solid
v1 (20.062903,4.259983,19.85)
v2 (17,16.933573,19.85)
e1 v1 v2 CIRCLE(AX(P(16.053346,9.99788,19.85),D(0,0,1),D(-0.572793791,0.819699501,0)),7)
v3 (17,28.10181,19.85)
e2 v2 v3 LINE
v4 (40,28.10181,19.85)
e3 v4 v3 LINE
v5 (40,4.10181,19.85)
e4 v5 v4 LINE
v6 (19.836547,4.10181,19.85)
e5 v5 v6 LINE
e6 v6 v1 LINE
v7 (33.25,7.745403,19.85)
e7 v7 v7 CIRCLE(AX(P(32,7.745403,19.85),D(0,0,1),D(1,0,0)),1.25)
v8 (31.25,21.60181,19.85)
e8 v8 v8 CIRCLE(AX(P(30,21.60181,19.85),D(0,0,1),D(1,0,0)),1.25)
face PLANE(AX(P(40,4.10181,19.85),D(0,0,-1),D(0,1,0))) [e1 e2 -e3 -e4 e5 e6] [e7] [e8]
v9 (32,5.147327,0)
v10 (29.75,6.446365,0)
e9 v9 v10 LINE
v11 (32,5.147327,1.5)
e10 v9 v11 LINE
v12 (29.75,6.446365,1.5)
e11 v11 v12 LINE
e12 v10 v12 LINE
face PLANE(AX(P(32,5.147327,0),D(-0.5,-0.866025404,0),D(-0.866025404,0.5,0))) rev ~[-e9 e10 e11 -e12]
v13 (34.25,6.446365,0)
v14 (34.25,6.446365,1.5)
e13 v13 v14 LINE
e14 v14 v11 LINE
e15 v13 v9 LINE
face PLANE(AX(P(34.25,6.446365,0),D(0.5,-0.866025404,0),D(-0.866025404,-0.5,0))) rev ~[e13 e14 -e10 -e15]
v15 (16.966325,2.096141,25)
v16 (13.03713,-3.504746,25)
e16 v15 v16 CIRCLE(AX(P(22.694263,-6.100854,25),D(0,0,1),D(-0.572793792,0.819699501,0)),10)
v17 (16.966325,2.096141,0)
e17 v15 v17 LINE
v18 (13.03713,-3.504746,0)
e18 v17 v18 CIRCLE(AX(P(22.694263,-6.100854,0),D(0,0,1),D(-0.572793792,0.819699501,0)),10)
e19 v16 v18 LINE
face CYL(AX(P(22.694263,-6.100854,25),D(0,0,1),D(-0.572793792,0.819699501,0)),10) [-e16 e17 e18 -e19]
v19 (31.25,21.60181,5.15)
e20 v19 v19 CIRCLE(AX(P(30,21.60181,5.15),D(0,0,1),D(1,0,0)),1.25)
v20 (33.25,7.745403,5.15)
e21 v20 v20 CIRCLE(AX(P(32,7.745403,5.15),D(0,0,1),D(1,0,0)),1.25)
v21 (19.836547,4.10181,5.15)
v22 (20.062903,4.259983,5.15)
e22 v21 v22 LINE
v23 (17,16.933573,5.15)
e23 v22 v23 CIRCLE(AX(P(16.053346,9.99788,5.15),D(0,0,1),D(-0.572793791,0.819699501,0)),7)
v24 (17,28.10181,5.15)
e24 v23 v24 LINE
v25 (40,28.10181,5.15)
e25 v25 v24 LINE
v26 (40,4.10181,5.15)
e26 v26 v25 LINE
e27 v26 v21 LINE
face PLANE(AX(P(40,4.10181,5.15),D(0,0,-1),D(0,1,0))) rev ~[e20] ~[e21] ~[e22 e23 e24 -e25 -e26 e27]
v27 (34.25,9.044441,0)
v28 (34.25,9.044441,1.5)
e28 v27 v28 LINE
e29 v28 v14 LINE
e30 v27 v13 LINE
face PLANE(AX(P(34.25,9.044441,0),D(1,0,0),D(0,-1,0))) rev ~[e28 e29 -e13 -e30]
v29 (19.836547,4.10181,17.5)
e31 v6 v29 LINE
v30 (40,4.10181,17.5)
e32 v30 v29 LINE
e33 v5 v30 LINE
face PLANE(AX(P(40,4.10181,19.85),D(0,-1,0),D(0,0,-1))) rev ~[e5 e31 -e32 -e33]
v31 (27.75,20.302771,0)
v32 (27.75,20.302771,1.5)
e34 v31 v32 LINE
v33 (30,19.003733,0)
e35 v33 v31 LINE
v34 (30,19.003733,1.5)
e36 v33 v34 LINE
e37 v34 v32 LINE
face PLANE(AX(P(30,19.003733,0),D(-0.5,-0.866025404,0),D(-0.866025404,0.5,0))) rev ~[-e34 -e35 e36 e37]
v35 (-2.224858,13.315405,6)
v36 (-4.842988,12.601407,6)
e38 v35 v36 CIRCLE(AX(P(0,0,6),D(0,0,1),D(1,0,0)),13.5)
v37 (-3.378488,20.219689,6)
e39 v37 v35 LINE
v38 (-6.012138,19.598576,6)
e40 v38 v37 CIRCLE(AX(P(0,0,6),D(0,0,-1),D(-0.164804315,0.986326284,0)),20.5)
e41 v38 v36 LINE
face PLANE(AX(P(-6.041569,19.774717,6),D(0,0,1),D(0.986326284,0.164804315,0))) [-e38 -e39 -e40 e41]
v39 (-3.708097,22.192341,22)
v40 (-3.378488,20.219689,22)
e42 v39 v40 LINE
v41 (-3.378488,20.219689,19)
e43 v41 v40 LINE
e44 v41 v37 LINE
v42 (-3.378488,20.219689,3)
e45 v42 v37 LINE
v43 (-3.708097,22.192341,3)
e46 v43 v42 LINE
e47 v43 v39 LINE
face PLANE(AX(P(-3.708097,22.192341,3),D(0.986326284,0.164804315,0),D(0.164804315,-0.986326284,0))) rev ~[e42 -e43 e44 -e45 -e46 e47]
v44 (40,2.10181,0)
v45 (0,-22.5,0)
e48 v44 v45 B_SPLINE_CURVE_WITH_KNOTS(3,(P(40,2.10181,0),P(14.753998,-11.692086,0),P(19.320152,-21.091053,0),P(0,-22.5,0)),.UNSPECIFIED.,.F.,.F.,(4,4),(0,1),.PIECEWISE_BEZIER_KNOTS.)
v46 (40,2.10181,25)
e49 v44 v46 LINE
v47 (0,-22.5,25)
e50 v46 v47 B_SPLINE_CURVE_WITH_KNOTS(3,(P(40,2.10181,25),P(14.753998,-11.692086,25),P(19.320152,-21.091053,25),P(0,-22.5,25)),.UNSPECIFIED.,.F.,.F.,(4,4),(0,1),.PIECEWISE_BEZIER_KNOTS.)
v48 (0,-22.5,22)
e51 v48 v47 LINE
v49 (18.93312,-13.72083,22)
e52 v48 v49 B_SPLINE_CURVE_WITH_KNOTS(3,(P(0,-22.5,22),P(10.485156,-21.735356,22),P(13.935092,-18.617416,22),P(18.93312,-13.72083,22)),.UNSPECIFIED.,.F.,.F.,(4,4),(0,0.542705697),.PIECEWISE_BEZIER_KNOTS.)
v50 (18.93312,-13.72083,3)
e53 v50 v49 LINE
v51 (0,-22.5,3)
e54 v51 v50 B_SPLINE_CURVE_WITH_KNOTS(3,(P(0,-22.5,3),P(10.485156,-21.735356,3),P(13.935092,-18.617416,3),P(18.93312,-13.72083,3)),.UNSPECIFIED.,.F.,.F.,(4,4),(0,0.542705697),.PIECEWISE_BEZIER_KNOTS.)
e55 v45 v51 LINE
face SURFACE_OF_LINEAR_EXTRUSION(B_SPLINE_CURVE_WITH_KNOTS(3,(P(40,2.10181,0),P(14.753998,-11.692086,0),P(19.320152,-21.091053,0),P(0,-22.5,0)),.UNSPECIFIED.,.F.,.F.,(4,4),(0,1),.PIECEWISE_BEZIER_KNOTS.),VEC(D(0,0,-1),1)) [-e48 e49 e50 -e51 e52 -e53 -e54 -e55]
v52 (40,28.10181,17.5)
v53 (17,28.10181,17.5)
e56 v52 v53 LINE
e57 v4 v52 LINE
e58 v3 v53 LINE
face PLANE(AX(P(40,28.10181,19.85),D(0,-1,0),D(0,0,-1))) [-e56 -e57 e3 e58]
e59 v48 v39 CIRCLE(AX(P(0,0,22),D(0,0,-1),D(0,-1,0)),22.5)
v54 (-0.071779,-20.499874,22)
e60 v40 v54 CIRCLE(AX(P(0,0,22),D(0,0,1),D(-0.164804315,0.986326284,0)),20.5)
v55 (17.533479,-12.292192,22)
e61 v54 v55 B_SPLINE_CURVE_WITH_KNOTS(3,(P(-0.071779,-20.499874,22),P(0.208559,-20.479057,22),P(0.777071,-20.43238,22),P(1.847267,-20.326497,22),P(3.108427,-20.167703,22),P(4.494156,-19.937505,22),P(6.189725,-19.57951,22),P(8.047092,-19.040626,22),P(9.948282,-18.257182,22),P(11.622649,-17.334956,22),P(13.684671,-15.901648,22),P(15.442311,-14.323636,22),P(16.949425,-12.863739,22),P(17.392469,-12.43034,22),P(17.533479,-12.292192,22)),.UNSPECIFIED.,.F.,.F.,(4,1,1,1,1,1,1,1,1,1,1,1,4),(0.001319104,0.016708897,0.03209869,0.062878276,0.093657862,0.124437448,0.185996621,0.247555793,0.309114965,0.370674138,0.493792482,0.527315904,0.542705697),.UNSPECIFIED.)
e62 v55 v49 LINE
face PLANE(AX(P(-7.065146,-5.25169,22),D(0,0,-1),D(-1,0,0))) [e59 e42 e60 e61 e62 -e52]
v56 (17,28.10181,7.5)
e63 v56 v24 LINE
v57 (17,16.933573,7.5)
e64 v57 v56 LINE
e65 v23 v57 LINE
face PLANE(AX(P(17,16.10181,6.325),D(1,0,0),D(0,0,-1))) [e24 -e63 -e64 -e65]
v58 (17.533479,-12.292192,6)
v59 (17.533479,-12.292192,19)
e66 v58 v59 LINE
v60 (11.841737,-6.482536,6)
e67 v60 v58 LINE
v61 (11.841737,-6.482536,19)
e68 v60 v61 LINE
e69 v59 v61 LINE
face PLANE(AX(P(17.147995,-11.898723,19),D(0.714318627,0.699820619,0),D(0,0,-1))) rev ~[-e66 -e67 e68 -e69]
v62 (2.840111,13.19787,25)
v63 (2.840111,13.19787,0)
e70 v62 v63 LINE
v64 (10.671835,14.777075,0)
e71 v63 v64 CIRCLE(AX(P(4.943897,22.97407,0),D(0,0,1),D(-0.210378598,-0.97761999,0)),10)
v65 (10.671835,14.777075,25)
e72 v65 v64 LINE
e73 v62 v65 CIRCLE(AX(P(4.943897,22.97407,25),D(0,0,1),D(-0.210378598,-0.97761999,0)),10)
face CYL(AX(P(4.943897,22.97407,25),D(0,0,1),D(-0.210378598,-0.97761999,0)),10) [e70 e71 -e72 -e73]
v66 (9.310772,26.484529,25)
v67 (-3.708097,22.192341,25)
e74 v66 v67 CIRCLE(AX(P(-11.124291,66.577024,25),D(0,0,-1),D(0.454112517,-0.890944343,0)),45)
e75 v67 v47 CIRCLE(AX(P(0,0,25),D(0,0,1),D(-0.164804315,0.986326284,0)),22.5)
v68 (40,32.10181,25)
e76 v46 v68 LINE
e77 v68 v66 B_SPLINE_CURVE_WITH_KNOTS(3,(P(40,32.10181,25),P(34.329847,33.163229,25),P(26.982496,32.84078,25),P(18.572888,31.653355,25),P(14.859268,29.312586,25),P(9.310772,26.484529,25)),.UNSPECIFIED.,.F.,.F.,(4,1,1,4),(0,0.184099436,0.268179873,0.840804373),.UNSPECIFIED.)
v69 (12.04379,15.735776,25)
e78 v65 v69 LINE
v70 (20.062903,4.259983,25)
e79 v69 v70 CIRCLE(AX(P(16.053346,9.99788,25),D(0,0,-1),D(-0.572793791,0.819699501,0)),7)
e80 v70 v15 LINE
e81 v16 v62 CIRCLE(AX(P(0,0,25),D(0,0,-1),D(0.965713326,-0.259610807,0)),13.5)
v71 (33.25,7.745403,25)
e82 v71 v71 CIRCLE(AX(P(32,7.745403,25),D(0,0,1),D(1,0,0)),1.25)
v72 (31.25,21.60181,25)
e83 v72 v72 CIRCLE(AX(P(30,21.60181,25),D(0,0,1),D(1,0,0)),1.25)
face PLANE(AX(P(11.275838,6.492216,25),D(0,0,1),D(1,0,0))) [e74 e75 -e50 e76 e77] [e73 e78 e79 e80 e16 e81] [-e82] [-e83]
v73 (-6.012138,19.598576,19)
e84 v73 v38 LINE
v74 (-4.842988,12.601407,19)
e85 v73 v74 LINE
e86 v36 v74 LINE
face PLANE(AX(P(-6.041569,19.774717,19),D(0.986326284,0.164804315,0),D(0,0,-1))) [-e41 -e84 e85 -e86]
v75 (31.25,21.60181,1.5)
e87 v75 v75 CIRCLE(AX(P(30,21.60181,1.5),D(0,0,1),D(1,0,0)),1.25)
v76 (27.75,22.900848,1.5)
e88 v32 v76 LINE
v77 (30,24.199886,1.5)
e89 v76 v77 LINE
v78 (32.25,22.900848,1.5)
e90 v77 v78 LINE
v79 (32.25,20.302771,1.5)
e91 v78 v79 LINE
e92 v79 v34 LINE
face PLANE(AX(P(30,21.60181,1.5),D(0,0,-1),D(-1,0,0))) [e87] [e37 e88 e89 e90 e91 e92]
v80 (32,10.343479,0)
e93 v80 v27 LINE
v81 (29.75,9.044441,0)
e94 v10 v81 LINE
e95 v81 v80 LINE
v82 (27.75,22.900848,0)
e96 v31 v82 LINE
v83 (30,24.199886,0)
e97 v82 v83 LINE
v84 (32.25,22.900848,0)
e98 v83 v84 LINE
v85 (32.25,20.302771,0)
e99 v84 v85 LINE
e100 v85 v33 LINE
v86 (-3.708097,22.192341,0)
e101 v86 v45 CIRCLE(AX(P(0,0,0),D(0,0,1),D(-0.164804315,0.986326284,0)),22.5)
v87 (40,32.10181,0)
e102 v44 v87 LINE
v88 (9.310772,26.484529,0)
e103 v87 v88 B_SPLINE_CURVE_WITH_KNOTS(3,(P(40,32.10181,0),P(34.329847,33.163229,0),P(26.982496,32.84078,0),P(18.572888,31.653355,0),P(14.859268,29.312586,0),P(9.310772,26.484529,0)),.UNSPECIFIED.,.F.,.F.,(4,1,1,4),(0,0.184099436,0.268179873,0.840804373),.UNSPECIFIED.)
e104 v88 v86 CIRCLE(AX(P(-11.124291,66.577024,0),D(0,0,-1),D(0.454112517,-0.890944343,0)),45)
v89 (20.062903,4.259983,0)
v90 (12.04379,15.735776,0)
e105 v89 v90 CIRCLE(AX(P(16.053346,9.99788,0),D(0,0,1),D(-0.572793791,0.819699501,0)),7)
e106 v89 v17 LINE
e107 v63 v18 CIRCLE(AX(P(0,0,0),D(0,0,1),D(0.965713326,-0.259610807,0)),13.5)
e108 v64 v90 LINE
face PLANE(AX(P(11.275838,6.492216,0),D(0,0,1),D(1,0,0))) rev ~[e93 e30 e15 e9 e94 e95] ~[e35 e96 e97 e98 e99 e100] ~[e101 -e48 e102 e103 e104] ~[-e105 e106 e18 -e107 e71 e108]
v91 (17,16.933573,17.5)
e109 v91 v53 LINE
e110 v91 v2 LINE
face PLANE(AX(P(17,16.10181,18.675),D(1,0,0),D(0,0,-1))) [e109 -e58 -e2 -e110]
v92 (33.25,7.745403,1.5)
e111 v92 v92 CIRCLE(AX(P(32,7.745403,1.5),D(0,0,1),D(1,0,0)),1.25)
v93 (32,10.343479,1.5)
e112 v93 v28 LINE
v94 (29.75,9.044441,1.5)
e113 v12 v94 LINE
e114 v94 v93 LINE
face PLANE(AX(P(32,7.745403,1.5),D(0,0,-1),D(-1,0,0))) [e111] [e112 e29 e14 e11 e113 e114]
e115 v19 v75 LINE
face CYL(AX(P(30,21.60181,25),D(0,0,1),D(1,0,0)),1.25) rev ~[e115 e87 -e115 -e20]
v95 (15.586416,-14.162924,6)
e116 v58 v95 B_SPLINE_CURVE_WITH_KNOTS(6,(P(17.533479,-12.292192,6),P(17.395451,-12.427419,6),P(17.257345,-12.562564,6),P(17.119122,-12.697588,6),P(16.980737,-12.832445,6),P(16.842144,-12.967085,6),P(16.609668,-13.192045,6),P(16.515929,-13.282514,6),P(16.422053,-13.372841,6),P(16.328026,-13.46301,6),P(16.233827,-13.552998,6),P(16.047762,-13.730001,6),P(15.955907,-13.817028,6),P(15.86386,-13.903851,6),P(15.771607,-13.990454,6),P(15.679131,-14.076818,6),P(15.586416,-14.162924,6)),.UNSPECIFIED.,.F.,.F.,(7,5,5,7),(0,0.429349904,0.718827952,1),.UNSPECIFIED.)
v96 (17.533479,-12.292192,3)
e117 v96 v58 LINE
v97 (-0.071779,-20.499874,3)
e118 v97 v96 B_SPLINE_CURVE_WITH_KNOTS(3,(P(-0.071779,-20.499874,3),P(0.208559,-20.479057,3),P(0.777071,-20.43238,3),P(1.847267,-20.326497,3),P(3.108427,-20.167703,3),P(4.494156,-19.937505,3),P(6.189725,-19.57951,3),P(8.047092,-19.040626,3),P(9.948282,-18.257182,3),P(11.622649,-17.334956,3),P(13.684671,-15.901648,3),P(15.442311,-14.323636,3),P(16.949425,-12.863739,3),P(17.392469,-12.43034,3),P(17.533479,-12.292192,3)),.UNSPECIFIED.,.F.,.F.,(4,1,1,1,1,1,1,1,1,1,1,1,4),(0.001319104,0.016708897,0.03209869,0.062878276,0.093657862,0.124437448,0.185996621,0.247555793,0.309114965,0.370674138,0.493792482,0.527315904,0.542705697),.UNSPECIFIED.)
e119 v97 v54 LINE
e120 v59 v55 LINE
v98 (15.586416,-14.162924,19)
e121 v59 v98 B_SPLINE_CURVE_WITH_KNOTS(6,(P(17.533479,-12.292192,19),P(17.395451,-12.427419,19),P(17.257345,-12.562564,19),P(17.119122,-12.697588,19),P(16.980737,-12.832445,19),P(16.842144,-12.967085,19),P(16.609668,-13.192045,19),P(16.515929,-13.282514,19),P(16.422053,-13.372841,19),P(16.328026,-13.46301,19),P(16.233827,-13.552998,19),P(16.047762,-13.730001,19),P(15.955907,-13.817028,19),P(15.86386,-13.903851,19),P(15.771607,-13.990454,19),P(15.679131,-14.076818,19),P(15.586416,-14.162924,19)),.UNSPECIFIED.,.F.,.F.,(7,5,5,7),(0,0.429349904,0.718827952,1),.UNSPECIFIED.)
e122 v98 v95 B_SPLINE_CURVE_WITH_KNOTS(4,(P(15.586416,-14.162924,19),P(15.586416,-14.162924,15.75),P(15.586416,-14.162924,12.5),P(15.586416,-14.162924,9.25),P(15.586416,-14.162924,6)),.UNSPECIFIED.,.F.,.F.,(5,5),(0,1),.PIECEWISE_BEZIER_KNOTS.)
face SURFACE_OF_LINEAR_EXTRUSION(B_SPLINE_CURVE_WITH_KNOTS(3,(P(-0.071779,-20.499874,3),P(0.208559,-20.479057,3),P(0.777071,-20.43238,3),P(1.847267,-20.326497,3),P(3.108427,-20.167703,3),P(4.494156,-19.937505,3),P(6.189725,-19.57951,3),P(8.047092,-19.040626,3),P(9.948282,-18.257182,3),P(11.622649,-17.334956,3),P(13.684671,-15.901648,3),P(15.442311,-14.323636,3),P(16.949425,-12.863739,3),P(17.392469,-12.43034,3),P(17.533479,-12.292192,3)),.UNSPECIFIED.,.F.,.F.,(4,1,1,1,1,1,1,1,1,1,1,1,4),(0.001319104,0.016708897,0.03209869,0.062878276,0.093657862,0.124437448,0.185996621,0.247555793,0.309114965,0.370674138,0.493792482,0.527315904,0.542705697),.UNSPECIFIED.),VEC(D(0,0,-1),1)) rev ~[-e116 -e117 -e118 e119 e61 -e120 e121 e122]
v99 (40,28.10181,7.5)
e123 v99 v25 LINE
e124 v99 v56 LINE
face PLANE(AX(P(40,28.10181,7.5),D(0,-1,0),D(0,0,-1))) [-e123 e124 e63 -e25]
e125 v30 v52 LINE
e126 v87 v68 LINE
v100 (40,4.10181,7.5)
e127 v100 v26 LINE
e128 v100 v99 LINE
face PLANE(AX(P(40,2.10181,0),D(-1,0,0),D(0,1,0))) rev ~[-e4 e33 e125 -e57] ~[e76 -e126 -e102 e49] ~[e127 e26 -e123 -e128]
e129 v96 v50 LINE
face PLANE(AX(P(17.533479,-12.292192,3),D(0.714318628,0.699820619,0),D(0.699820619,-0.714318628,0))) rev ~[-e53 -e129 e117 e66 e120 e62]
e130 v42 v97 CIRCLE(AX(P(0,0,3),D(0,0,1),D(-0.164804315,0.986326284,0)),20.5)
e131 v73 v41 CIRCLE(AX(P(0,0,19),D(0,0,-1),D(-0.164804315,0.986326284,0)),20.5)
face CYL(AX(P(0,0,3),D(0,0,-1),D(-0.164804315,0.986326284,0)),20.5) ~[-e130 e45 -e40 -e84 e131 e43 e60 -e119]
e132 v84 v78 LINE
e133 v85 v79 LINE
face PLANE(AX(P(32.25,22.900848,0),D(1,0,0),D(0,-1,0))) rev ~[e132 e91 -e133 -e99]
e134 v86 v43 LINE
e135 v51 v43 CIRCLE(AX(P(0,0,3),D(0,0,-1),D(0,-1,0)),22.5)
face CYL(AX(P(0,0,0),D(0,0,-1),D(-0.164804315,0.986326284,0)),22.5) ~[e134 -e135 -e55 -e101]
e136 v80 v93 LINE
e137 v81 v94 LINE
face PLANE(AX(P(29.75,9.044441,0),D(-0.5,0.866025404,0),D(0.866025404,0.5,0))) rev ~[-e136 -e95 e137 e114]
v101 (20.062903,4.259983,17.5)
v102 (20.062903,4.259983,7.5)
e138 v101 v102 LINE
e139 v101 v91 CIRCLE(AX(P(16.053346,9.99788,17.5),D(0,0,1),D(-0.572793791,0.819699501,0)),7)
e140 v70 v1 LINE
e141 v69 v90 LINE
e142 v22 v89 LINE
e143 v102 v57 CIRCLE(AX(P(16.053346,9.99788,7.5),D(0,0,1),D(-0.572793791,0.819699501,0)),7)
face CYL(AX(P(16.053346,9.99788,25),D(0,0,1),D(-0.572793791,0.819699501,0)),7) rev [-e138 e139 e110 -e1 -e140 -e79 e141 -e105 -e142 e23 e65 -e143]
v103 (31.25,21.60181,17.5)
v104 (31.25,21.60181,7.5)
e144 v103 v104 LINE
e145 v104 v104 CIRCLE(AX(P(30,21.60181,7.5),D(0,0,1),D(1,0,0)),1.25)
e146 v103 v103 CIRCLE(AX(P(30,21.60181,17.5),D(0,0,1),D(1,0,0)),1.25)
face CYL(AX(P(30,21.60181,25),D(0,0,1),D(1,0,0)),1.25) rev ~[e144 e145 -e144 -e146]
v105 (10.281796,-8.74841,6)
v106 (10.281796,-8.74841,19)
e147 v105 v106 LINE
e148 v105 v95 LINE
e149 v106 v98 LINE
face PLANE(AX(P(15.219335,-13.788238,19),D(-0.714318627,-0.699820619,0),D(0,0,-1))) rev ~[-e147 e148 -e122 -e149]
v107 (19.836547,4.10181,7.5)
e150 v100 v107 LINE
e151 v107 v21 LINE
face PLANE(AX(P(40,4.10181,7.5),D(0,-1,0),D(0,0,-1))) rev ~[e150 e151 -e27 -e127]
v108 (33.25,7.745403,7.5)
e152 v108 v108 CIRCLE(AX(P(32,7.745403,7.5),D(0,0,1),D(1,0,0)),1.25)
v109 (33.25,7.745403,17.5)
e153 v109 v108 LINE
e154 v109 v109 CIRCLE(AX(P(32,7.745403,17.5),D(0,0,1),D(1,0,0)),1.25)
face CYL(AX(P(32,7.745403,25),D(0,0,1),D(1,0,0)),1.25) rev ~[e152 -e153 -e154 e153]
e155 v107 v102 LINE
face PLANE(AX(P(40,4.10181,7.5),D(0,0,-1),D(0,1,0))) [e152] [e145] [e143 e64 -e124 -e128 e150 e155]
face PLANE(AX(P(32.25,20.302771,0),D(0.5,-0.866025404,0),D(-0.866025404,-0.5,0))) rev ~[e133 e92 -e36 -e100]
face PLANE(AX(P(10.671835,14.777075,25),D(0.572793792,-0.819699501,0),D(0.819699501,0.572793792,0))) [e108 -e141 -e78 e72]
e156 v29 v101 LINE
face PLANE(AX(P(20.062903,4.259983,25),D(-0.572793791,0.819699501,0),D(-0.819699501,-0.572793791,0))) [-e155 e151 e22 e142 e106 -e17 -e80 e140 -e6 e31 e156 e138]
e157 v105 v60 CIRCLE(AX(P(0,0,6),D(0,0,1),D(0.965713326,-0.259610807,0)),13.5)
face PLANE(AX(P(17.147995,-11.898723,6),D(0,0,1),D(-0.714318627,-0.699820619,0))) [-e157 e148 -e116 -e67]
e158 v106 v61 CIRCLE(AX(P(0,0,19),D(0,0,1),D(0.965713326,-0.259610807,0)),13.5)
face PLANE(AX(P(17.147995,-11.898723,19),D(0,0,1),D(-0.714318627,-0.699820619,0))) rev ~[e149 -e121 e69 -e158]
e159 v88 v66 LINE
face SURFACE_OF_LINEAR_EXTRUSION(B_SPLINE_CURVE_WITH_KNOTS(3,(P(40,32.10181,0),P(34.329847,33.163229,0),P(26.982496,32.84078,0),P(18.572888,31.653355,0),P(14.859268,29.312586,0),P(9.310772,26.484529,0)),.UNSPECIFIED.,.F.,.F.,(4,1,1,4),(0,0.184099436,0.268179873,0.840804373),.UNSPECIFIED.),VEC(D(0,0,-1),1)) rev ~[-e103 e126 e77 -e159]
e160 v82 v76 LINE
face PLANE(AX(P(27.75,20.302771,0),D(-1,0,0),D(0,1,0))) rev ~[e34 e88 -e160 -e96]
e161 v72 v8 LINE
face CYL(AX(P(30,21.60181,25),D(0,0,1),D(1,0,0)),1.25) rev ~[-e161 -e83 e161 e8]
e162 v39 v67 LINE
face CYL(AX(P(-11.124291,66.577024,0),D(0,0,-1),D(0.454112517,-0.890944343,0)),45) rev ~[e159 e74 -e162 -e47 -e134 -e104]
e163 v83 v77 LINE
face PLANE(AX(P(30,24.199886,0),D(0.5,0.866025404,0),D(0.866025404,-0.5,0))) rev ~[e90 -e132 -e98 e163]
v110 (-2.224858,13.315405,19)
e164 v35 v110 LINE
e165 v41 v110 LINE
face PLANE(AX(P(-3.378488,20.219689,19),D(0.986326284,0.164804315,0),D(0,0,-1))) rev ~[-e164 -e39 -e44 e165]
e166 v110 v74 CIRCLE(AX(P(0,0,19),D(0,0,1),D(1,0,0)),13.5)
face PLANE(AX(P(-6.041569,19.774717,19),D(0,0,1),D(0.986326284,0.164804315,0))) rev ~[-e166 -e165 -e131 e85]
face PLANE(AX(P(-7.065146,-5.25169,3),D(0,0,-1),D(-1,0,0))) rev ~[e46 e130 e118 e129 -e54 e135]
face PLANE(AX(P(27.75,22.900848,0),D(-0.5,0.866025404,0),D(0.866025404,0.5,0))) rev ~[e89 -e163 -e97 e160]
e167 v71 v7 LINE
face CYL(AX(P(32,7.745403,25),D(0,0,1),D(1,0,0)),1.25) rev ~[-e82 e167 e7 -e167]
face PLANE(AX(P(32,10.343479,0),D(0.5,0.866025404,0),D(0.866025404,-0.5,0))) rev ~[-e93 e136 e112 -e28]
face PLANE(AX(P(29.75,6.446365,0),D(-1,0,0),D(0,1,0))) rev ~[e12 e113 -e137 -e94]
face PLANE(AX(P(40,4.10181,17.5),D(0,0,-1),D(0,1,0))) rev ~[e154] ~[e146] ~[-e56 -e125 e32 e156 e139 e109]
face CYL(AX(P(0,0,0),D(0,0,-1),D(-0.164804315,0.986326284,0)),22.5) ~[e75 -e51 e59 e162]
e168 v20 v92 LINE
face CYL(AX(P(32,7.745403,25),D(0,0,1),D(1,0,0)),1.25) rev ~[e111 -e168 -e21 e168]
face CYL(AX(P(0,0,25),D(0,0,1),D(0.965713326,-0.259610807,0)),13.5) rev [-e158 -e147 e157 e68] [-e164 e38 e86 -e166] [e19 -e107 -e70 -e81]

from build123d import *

# Parameters (mm, degrees)
BOSS_EXTRUDE1_DEPTH            = 25
SKETCH2_W                      = 2.35
SKETCH2_H                      = 24
CUT_EXTRUDE1_DEPTH             = 23
SKETCH3_R                      = 1.25
CUT_EXTRUDE2_DEPTH             = 58.509648628
CUT_EXTRUDE3_DEPTH             = 58.509648628
CUT_EXTRUDE5_START             = -22
CUT_EXTRUDE5_DEPTH             = 19
CUT_EXTRUDE6_REACH             = 67.815
CUT_EXTRUDE6_END_RADIUS        = 13.5
SKETCH9_W                      = 2.7
SKETCH9_H                      = 13
CUT_EXTRUDE7_REACH             = 67.138
SKETCH10_W                     = 2.7
SKETCH10_H                     = 13
CUT_EXTRUDE7_DIRECTION_2_REACH = 67.138
CUT_EXTRUDE8_DEPTH             = 1.5


with BuildPart() as part:
    # Sketch1 → Boss-Extrude1 (new body)
    with BuildSketch(Plane.XY):
        with BuildLine():
            Line((40, 2.101809534), (40, 32.101809534))
            add(Edge.make_bspline(
                [(40, 32.101809534), (34.329847466, 33.163229144), (26.982496241, 32.840779877), (18.572888448, 31.653354862), (14.859267804, 29.312585721), (9.310772029, 26.484528724)],
                knots=[0, 0, 0, 0, 0.184099436, 0.268179873, 0.840804373, 0.840804373, 0.840804373, 0.840804373], degree=3))
            ThreePointArc((9.310772029, 26.484528724), (2.965735487, 23.839790418), (-3.708097079, 22.192341383))
            ThreePointArc((-3.708097079, 22.192341383), (-22.422953431, -1.860419158), (0, -22.5))
            add(Edge.make_bspline(
                [(40, 2.101809534), (14.753998058, -11.692085759), (19.320151725, -21.091052748), (0, -22.5)],
                knots=[0, 0, 0, 0, 1, 1, 1, 1], degree=3))
        make_face()
    extrude(amount=BOSS_EXTRUDE1_DEPTH)

    # Sketch2 → Cut-Extrude1 (cut)
    with BuildSketch(Plane(origin=(40, 0, 0), x_dir=(0, 0, -1), z_dir=(1, 0, 0))):
        with Locations((-18.675, 16.101809534)):
            Rectangle(SKETCH2_W, SKETCH2_H)
        with Locations((-6.325, 16.101809534)):
            Rectangle(SKETCH2_W, SKETCH2_H)
    extrude(amount=-CUT_EXTRUDE1_DEPTH, mode=Mode.SUBTRACT)

    # Sketch3 → Cut-Extrude2 (cut, through all)
    with BuildSketch(Plane.XY.offset(25)):
        with Locations((30, 21.601809534)):
            Circle(SKETCH3_R)
        with Locations((32, 7.745403073)):
            Circle(SKETCH3_R)
    extrude(amount=-CUT_EXTRUDE2_DEPTH, mode=Mode.SUBTRACT)

    # Sketch4 → Cut-Extrude3 (cut, through all)
    with BuildSketch(Plane.XY.offset(25)):
        with BuildLine():
            Line((10.671834965, 14.77707476), (12.04378968, 15.735776262))
            ThreePointArc((12.04378968, 15.735776262), (21.791242729, 14.007436293), (20.062902761, 4.259983244))
            Line((20.062902761, 4.259983244), (16.966325256, 2.096141048))
            ThreePointArc((16.966325256, 2.096141048), (14.507836146, -0.357822313), (13.037129907, -3.504745895))
            ThreePointArc((13.037129907, -3.504745895), (-11.522414618, -7.034483732), (2.840111071, 13.19786987))
            ThreePointArc((2.840111071, 13.19786987), (6.920533419, 13.171370724), (10.671834965, 14.77707476))
        make_face()
    extrude(amount=-CUT_EXTRUDE3_DEPTH, mode=Mode.SUBTRACT)

    # Sketch6 → Cut-Extrude5 (cut)
    with BuildSketch(Plane.XY.offset(25).offset(CUT_EXTRUDE5_START)):
        with BuildLine():
            Line((-3.708097079, 22.192341383), (-3.378488449, 20.219688816))
            ThreePointArc((-3.378488449, 20.219688816), (-20.432738232, -1.659279471), (-0.071778676, -20.499874337))
            add(Edge.make_bspline(
                [(-0.071778676, -20.499874337), (0.208558967, -20.479056775), (0.777070886, -20.432379755), (1.847267067, -20.326496662), (3.108426982, -20.167703365), (4.494156168, -19.937504643), (6.189724602, -19.579509646), (8.047092499, -19.040626432), (9.948281947, -18.257182138), (11.622649285, -17.334955593), (13.684671017, -15.901647803), (15.442310851, -14.323635678), (16.949424963, -12.863739279), (17.392469361, -12.430339701), (17.53347875, -12.292192277)],
                knots=[0.001319104, 0.001319104, 0.001319104, 0.001319104, 0.016708897, 0.03209869, 0.062878276, 0.093657862, 0.124437448, 0.185996621, 0.247555793, 0.309114965, 0.370674138, 0.493792482, 0.527315904, 0.542705697, 0.542705697, 0.542705697, 0.542705697], degree=3))
            Line((17.53347875, -12.292192277), (18.933119987, -13.720829532))
            add(Edge.make_bspline(
                [(0, -22.5), (10.485156415, -21.735356299), (13.935091868, -18.617416288), (18.933119987, -13.720829532)],
                knots=[0, 0, 0, 0, 0.542705697, 0.542705697, 0.542705697, 0.542705697], degree=3))
            ThreePointArc((0, -22.5), (-22.422953431, -1.860419158), (-3.708097079, 22.192341383))
        make_face()
    extrude(amount=CUT_EXTRUDE5_DEPTH, mode=Mode.SUBTRACT)

    # Cut-Extrude6: up to this cylinder (the profile starts outside it)
    cut_extrude6_end = Plane(origin=(0, 0, 12.5), z_dir=(0, 0, 1)) * Cylinder(CUT_EXTRUDE6_END_RADIUS, 163.63, mode=Mode.PRIVATE)
    # Sketch9 → Cut-Extrude6 (cut, up to the surface)
    with BuildSketch(Plane(origin=(-3.378488449, 20.219688816, 0), x_dir=(0.9863262836854494, 0.16480431460144024, 0), z_dir=(-0.16480431460144024, 0.9863262836854494, 0)), mode=Mode.PRIVATE) as cut_extrude6_sk1:
        with Locations((-1.35, -12.5)):
            Rectangle(SKETCH9_W, SKETCH9_H)
    cut_extrude6_tool1 = extrude(cut_extrude6_sk1.sketch, amount=-CUT_EXTRUDE6_REACH, mode=Mode.PRIVATE) - cut_extrude6_end
    add(cut_extrude6_tool1.solids().sort_by_distance((-4.710029, 19.997203, 12.5))[0], mode=Mode.SUBTRACT)

    # Sketch10 → Cut-Extrude7 (cut, up to next)
    with BuildSketch(Plane(origin=(14.346322684, -14.643531864, 0), x_dir=(-0.7143186274909935, -0.6998206187441061, 0), z_dir=(0.6998206187441061, -0.7143186274909935, 0)), mode=Mode.PRIVATE) as cut_extrude7_sk1:
        with Locations((-2.57216087, -12.5)):
            Rectangle(SKETCH10_W, SKETCH10_H)
    cut_extrude7_tool1 = extrude(cut_extrude7_sk1.sketch, amount=-CUT_EXTRUDE7_REACH, mode=Mode.PRIVATE) & part.part
    add(cut_extrude7_tool1.solids().sort_by_distance((16.183665, -12.843481, 12.5))[0], mode=Mode.SUBTRACT)

    # Sketch10 → Cut-Extrude7 direction 2 (cut, up to next)
    with BuildSketch(Plane(origin=(14.346322684, -14.643531864, 0), x_dir=(-0.7143186274909935, -0.6998206187441061, 0), z_dir=(0.6998206187441061, -0.7143186274909935, 0)), mode=Mode.PRIVATE) as cut_extrude7_direction_2_sk1:
        with Locations((-2.57216087, -12.5)):
            Rectangle(SKETCH10_W, SKETCH10_H)
    cut_extrude7_direction_2_tool1 = extrude(cut_extrude7_direction_2_sk1.sketch, amount=CUT_EXTRUDE7_DIRECTION_2_REACH, mode=Mode.PRIVATE) & part.part
    add(cut_extrude7_direction_2_tool1.solids().sort_by_distance((16.183665, -12.843481, 12.5))[0], mode=Mode.SUBTRACT)

    # Sketch13 → Cut-Extrude8 (cut)
    with BuildSketch(Plane(origin=(0, 0, 0), x_dir=(-1, 0, 0), z_dir=(0, 0, -1))):
        Polygon((-27.75, 20.302771428), (-27.75, 22.900847639), (-30, 24.199885745), (-32.25, 22.900847639), (-32.25, 20.302771428), (-30, 19.003733322), align=None)
        Polygon((-29.75, 9.044441179), (-32, 10.343479284), (-34.25, 9.044441179), (-34.25, 6.446364967), (-32, 5.147326862), (-29.75, 6.446364967), align=None)
    extrude(amount=-CUT_EXTRUDE8_DEPTH, mode=Mode.SUBTRACT)


solid = part.part
